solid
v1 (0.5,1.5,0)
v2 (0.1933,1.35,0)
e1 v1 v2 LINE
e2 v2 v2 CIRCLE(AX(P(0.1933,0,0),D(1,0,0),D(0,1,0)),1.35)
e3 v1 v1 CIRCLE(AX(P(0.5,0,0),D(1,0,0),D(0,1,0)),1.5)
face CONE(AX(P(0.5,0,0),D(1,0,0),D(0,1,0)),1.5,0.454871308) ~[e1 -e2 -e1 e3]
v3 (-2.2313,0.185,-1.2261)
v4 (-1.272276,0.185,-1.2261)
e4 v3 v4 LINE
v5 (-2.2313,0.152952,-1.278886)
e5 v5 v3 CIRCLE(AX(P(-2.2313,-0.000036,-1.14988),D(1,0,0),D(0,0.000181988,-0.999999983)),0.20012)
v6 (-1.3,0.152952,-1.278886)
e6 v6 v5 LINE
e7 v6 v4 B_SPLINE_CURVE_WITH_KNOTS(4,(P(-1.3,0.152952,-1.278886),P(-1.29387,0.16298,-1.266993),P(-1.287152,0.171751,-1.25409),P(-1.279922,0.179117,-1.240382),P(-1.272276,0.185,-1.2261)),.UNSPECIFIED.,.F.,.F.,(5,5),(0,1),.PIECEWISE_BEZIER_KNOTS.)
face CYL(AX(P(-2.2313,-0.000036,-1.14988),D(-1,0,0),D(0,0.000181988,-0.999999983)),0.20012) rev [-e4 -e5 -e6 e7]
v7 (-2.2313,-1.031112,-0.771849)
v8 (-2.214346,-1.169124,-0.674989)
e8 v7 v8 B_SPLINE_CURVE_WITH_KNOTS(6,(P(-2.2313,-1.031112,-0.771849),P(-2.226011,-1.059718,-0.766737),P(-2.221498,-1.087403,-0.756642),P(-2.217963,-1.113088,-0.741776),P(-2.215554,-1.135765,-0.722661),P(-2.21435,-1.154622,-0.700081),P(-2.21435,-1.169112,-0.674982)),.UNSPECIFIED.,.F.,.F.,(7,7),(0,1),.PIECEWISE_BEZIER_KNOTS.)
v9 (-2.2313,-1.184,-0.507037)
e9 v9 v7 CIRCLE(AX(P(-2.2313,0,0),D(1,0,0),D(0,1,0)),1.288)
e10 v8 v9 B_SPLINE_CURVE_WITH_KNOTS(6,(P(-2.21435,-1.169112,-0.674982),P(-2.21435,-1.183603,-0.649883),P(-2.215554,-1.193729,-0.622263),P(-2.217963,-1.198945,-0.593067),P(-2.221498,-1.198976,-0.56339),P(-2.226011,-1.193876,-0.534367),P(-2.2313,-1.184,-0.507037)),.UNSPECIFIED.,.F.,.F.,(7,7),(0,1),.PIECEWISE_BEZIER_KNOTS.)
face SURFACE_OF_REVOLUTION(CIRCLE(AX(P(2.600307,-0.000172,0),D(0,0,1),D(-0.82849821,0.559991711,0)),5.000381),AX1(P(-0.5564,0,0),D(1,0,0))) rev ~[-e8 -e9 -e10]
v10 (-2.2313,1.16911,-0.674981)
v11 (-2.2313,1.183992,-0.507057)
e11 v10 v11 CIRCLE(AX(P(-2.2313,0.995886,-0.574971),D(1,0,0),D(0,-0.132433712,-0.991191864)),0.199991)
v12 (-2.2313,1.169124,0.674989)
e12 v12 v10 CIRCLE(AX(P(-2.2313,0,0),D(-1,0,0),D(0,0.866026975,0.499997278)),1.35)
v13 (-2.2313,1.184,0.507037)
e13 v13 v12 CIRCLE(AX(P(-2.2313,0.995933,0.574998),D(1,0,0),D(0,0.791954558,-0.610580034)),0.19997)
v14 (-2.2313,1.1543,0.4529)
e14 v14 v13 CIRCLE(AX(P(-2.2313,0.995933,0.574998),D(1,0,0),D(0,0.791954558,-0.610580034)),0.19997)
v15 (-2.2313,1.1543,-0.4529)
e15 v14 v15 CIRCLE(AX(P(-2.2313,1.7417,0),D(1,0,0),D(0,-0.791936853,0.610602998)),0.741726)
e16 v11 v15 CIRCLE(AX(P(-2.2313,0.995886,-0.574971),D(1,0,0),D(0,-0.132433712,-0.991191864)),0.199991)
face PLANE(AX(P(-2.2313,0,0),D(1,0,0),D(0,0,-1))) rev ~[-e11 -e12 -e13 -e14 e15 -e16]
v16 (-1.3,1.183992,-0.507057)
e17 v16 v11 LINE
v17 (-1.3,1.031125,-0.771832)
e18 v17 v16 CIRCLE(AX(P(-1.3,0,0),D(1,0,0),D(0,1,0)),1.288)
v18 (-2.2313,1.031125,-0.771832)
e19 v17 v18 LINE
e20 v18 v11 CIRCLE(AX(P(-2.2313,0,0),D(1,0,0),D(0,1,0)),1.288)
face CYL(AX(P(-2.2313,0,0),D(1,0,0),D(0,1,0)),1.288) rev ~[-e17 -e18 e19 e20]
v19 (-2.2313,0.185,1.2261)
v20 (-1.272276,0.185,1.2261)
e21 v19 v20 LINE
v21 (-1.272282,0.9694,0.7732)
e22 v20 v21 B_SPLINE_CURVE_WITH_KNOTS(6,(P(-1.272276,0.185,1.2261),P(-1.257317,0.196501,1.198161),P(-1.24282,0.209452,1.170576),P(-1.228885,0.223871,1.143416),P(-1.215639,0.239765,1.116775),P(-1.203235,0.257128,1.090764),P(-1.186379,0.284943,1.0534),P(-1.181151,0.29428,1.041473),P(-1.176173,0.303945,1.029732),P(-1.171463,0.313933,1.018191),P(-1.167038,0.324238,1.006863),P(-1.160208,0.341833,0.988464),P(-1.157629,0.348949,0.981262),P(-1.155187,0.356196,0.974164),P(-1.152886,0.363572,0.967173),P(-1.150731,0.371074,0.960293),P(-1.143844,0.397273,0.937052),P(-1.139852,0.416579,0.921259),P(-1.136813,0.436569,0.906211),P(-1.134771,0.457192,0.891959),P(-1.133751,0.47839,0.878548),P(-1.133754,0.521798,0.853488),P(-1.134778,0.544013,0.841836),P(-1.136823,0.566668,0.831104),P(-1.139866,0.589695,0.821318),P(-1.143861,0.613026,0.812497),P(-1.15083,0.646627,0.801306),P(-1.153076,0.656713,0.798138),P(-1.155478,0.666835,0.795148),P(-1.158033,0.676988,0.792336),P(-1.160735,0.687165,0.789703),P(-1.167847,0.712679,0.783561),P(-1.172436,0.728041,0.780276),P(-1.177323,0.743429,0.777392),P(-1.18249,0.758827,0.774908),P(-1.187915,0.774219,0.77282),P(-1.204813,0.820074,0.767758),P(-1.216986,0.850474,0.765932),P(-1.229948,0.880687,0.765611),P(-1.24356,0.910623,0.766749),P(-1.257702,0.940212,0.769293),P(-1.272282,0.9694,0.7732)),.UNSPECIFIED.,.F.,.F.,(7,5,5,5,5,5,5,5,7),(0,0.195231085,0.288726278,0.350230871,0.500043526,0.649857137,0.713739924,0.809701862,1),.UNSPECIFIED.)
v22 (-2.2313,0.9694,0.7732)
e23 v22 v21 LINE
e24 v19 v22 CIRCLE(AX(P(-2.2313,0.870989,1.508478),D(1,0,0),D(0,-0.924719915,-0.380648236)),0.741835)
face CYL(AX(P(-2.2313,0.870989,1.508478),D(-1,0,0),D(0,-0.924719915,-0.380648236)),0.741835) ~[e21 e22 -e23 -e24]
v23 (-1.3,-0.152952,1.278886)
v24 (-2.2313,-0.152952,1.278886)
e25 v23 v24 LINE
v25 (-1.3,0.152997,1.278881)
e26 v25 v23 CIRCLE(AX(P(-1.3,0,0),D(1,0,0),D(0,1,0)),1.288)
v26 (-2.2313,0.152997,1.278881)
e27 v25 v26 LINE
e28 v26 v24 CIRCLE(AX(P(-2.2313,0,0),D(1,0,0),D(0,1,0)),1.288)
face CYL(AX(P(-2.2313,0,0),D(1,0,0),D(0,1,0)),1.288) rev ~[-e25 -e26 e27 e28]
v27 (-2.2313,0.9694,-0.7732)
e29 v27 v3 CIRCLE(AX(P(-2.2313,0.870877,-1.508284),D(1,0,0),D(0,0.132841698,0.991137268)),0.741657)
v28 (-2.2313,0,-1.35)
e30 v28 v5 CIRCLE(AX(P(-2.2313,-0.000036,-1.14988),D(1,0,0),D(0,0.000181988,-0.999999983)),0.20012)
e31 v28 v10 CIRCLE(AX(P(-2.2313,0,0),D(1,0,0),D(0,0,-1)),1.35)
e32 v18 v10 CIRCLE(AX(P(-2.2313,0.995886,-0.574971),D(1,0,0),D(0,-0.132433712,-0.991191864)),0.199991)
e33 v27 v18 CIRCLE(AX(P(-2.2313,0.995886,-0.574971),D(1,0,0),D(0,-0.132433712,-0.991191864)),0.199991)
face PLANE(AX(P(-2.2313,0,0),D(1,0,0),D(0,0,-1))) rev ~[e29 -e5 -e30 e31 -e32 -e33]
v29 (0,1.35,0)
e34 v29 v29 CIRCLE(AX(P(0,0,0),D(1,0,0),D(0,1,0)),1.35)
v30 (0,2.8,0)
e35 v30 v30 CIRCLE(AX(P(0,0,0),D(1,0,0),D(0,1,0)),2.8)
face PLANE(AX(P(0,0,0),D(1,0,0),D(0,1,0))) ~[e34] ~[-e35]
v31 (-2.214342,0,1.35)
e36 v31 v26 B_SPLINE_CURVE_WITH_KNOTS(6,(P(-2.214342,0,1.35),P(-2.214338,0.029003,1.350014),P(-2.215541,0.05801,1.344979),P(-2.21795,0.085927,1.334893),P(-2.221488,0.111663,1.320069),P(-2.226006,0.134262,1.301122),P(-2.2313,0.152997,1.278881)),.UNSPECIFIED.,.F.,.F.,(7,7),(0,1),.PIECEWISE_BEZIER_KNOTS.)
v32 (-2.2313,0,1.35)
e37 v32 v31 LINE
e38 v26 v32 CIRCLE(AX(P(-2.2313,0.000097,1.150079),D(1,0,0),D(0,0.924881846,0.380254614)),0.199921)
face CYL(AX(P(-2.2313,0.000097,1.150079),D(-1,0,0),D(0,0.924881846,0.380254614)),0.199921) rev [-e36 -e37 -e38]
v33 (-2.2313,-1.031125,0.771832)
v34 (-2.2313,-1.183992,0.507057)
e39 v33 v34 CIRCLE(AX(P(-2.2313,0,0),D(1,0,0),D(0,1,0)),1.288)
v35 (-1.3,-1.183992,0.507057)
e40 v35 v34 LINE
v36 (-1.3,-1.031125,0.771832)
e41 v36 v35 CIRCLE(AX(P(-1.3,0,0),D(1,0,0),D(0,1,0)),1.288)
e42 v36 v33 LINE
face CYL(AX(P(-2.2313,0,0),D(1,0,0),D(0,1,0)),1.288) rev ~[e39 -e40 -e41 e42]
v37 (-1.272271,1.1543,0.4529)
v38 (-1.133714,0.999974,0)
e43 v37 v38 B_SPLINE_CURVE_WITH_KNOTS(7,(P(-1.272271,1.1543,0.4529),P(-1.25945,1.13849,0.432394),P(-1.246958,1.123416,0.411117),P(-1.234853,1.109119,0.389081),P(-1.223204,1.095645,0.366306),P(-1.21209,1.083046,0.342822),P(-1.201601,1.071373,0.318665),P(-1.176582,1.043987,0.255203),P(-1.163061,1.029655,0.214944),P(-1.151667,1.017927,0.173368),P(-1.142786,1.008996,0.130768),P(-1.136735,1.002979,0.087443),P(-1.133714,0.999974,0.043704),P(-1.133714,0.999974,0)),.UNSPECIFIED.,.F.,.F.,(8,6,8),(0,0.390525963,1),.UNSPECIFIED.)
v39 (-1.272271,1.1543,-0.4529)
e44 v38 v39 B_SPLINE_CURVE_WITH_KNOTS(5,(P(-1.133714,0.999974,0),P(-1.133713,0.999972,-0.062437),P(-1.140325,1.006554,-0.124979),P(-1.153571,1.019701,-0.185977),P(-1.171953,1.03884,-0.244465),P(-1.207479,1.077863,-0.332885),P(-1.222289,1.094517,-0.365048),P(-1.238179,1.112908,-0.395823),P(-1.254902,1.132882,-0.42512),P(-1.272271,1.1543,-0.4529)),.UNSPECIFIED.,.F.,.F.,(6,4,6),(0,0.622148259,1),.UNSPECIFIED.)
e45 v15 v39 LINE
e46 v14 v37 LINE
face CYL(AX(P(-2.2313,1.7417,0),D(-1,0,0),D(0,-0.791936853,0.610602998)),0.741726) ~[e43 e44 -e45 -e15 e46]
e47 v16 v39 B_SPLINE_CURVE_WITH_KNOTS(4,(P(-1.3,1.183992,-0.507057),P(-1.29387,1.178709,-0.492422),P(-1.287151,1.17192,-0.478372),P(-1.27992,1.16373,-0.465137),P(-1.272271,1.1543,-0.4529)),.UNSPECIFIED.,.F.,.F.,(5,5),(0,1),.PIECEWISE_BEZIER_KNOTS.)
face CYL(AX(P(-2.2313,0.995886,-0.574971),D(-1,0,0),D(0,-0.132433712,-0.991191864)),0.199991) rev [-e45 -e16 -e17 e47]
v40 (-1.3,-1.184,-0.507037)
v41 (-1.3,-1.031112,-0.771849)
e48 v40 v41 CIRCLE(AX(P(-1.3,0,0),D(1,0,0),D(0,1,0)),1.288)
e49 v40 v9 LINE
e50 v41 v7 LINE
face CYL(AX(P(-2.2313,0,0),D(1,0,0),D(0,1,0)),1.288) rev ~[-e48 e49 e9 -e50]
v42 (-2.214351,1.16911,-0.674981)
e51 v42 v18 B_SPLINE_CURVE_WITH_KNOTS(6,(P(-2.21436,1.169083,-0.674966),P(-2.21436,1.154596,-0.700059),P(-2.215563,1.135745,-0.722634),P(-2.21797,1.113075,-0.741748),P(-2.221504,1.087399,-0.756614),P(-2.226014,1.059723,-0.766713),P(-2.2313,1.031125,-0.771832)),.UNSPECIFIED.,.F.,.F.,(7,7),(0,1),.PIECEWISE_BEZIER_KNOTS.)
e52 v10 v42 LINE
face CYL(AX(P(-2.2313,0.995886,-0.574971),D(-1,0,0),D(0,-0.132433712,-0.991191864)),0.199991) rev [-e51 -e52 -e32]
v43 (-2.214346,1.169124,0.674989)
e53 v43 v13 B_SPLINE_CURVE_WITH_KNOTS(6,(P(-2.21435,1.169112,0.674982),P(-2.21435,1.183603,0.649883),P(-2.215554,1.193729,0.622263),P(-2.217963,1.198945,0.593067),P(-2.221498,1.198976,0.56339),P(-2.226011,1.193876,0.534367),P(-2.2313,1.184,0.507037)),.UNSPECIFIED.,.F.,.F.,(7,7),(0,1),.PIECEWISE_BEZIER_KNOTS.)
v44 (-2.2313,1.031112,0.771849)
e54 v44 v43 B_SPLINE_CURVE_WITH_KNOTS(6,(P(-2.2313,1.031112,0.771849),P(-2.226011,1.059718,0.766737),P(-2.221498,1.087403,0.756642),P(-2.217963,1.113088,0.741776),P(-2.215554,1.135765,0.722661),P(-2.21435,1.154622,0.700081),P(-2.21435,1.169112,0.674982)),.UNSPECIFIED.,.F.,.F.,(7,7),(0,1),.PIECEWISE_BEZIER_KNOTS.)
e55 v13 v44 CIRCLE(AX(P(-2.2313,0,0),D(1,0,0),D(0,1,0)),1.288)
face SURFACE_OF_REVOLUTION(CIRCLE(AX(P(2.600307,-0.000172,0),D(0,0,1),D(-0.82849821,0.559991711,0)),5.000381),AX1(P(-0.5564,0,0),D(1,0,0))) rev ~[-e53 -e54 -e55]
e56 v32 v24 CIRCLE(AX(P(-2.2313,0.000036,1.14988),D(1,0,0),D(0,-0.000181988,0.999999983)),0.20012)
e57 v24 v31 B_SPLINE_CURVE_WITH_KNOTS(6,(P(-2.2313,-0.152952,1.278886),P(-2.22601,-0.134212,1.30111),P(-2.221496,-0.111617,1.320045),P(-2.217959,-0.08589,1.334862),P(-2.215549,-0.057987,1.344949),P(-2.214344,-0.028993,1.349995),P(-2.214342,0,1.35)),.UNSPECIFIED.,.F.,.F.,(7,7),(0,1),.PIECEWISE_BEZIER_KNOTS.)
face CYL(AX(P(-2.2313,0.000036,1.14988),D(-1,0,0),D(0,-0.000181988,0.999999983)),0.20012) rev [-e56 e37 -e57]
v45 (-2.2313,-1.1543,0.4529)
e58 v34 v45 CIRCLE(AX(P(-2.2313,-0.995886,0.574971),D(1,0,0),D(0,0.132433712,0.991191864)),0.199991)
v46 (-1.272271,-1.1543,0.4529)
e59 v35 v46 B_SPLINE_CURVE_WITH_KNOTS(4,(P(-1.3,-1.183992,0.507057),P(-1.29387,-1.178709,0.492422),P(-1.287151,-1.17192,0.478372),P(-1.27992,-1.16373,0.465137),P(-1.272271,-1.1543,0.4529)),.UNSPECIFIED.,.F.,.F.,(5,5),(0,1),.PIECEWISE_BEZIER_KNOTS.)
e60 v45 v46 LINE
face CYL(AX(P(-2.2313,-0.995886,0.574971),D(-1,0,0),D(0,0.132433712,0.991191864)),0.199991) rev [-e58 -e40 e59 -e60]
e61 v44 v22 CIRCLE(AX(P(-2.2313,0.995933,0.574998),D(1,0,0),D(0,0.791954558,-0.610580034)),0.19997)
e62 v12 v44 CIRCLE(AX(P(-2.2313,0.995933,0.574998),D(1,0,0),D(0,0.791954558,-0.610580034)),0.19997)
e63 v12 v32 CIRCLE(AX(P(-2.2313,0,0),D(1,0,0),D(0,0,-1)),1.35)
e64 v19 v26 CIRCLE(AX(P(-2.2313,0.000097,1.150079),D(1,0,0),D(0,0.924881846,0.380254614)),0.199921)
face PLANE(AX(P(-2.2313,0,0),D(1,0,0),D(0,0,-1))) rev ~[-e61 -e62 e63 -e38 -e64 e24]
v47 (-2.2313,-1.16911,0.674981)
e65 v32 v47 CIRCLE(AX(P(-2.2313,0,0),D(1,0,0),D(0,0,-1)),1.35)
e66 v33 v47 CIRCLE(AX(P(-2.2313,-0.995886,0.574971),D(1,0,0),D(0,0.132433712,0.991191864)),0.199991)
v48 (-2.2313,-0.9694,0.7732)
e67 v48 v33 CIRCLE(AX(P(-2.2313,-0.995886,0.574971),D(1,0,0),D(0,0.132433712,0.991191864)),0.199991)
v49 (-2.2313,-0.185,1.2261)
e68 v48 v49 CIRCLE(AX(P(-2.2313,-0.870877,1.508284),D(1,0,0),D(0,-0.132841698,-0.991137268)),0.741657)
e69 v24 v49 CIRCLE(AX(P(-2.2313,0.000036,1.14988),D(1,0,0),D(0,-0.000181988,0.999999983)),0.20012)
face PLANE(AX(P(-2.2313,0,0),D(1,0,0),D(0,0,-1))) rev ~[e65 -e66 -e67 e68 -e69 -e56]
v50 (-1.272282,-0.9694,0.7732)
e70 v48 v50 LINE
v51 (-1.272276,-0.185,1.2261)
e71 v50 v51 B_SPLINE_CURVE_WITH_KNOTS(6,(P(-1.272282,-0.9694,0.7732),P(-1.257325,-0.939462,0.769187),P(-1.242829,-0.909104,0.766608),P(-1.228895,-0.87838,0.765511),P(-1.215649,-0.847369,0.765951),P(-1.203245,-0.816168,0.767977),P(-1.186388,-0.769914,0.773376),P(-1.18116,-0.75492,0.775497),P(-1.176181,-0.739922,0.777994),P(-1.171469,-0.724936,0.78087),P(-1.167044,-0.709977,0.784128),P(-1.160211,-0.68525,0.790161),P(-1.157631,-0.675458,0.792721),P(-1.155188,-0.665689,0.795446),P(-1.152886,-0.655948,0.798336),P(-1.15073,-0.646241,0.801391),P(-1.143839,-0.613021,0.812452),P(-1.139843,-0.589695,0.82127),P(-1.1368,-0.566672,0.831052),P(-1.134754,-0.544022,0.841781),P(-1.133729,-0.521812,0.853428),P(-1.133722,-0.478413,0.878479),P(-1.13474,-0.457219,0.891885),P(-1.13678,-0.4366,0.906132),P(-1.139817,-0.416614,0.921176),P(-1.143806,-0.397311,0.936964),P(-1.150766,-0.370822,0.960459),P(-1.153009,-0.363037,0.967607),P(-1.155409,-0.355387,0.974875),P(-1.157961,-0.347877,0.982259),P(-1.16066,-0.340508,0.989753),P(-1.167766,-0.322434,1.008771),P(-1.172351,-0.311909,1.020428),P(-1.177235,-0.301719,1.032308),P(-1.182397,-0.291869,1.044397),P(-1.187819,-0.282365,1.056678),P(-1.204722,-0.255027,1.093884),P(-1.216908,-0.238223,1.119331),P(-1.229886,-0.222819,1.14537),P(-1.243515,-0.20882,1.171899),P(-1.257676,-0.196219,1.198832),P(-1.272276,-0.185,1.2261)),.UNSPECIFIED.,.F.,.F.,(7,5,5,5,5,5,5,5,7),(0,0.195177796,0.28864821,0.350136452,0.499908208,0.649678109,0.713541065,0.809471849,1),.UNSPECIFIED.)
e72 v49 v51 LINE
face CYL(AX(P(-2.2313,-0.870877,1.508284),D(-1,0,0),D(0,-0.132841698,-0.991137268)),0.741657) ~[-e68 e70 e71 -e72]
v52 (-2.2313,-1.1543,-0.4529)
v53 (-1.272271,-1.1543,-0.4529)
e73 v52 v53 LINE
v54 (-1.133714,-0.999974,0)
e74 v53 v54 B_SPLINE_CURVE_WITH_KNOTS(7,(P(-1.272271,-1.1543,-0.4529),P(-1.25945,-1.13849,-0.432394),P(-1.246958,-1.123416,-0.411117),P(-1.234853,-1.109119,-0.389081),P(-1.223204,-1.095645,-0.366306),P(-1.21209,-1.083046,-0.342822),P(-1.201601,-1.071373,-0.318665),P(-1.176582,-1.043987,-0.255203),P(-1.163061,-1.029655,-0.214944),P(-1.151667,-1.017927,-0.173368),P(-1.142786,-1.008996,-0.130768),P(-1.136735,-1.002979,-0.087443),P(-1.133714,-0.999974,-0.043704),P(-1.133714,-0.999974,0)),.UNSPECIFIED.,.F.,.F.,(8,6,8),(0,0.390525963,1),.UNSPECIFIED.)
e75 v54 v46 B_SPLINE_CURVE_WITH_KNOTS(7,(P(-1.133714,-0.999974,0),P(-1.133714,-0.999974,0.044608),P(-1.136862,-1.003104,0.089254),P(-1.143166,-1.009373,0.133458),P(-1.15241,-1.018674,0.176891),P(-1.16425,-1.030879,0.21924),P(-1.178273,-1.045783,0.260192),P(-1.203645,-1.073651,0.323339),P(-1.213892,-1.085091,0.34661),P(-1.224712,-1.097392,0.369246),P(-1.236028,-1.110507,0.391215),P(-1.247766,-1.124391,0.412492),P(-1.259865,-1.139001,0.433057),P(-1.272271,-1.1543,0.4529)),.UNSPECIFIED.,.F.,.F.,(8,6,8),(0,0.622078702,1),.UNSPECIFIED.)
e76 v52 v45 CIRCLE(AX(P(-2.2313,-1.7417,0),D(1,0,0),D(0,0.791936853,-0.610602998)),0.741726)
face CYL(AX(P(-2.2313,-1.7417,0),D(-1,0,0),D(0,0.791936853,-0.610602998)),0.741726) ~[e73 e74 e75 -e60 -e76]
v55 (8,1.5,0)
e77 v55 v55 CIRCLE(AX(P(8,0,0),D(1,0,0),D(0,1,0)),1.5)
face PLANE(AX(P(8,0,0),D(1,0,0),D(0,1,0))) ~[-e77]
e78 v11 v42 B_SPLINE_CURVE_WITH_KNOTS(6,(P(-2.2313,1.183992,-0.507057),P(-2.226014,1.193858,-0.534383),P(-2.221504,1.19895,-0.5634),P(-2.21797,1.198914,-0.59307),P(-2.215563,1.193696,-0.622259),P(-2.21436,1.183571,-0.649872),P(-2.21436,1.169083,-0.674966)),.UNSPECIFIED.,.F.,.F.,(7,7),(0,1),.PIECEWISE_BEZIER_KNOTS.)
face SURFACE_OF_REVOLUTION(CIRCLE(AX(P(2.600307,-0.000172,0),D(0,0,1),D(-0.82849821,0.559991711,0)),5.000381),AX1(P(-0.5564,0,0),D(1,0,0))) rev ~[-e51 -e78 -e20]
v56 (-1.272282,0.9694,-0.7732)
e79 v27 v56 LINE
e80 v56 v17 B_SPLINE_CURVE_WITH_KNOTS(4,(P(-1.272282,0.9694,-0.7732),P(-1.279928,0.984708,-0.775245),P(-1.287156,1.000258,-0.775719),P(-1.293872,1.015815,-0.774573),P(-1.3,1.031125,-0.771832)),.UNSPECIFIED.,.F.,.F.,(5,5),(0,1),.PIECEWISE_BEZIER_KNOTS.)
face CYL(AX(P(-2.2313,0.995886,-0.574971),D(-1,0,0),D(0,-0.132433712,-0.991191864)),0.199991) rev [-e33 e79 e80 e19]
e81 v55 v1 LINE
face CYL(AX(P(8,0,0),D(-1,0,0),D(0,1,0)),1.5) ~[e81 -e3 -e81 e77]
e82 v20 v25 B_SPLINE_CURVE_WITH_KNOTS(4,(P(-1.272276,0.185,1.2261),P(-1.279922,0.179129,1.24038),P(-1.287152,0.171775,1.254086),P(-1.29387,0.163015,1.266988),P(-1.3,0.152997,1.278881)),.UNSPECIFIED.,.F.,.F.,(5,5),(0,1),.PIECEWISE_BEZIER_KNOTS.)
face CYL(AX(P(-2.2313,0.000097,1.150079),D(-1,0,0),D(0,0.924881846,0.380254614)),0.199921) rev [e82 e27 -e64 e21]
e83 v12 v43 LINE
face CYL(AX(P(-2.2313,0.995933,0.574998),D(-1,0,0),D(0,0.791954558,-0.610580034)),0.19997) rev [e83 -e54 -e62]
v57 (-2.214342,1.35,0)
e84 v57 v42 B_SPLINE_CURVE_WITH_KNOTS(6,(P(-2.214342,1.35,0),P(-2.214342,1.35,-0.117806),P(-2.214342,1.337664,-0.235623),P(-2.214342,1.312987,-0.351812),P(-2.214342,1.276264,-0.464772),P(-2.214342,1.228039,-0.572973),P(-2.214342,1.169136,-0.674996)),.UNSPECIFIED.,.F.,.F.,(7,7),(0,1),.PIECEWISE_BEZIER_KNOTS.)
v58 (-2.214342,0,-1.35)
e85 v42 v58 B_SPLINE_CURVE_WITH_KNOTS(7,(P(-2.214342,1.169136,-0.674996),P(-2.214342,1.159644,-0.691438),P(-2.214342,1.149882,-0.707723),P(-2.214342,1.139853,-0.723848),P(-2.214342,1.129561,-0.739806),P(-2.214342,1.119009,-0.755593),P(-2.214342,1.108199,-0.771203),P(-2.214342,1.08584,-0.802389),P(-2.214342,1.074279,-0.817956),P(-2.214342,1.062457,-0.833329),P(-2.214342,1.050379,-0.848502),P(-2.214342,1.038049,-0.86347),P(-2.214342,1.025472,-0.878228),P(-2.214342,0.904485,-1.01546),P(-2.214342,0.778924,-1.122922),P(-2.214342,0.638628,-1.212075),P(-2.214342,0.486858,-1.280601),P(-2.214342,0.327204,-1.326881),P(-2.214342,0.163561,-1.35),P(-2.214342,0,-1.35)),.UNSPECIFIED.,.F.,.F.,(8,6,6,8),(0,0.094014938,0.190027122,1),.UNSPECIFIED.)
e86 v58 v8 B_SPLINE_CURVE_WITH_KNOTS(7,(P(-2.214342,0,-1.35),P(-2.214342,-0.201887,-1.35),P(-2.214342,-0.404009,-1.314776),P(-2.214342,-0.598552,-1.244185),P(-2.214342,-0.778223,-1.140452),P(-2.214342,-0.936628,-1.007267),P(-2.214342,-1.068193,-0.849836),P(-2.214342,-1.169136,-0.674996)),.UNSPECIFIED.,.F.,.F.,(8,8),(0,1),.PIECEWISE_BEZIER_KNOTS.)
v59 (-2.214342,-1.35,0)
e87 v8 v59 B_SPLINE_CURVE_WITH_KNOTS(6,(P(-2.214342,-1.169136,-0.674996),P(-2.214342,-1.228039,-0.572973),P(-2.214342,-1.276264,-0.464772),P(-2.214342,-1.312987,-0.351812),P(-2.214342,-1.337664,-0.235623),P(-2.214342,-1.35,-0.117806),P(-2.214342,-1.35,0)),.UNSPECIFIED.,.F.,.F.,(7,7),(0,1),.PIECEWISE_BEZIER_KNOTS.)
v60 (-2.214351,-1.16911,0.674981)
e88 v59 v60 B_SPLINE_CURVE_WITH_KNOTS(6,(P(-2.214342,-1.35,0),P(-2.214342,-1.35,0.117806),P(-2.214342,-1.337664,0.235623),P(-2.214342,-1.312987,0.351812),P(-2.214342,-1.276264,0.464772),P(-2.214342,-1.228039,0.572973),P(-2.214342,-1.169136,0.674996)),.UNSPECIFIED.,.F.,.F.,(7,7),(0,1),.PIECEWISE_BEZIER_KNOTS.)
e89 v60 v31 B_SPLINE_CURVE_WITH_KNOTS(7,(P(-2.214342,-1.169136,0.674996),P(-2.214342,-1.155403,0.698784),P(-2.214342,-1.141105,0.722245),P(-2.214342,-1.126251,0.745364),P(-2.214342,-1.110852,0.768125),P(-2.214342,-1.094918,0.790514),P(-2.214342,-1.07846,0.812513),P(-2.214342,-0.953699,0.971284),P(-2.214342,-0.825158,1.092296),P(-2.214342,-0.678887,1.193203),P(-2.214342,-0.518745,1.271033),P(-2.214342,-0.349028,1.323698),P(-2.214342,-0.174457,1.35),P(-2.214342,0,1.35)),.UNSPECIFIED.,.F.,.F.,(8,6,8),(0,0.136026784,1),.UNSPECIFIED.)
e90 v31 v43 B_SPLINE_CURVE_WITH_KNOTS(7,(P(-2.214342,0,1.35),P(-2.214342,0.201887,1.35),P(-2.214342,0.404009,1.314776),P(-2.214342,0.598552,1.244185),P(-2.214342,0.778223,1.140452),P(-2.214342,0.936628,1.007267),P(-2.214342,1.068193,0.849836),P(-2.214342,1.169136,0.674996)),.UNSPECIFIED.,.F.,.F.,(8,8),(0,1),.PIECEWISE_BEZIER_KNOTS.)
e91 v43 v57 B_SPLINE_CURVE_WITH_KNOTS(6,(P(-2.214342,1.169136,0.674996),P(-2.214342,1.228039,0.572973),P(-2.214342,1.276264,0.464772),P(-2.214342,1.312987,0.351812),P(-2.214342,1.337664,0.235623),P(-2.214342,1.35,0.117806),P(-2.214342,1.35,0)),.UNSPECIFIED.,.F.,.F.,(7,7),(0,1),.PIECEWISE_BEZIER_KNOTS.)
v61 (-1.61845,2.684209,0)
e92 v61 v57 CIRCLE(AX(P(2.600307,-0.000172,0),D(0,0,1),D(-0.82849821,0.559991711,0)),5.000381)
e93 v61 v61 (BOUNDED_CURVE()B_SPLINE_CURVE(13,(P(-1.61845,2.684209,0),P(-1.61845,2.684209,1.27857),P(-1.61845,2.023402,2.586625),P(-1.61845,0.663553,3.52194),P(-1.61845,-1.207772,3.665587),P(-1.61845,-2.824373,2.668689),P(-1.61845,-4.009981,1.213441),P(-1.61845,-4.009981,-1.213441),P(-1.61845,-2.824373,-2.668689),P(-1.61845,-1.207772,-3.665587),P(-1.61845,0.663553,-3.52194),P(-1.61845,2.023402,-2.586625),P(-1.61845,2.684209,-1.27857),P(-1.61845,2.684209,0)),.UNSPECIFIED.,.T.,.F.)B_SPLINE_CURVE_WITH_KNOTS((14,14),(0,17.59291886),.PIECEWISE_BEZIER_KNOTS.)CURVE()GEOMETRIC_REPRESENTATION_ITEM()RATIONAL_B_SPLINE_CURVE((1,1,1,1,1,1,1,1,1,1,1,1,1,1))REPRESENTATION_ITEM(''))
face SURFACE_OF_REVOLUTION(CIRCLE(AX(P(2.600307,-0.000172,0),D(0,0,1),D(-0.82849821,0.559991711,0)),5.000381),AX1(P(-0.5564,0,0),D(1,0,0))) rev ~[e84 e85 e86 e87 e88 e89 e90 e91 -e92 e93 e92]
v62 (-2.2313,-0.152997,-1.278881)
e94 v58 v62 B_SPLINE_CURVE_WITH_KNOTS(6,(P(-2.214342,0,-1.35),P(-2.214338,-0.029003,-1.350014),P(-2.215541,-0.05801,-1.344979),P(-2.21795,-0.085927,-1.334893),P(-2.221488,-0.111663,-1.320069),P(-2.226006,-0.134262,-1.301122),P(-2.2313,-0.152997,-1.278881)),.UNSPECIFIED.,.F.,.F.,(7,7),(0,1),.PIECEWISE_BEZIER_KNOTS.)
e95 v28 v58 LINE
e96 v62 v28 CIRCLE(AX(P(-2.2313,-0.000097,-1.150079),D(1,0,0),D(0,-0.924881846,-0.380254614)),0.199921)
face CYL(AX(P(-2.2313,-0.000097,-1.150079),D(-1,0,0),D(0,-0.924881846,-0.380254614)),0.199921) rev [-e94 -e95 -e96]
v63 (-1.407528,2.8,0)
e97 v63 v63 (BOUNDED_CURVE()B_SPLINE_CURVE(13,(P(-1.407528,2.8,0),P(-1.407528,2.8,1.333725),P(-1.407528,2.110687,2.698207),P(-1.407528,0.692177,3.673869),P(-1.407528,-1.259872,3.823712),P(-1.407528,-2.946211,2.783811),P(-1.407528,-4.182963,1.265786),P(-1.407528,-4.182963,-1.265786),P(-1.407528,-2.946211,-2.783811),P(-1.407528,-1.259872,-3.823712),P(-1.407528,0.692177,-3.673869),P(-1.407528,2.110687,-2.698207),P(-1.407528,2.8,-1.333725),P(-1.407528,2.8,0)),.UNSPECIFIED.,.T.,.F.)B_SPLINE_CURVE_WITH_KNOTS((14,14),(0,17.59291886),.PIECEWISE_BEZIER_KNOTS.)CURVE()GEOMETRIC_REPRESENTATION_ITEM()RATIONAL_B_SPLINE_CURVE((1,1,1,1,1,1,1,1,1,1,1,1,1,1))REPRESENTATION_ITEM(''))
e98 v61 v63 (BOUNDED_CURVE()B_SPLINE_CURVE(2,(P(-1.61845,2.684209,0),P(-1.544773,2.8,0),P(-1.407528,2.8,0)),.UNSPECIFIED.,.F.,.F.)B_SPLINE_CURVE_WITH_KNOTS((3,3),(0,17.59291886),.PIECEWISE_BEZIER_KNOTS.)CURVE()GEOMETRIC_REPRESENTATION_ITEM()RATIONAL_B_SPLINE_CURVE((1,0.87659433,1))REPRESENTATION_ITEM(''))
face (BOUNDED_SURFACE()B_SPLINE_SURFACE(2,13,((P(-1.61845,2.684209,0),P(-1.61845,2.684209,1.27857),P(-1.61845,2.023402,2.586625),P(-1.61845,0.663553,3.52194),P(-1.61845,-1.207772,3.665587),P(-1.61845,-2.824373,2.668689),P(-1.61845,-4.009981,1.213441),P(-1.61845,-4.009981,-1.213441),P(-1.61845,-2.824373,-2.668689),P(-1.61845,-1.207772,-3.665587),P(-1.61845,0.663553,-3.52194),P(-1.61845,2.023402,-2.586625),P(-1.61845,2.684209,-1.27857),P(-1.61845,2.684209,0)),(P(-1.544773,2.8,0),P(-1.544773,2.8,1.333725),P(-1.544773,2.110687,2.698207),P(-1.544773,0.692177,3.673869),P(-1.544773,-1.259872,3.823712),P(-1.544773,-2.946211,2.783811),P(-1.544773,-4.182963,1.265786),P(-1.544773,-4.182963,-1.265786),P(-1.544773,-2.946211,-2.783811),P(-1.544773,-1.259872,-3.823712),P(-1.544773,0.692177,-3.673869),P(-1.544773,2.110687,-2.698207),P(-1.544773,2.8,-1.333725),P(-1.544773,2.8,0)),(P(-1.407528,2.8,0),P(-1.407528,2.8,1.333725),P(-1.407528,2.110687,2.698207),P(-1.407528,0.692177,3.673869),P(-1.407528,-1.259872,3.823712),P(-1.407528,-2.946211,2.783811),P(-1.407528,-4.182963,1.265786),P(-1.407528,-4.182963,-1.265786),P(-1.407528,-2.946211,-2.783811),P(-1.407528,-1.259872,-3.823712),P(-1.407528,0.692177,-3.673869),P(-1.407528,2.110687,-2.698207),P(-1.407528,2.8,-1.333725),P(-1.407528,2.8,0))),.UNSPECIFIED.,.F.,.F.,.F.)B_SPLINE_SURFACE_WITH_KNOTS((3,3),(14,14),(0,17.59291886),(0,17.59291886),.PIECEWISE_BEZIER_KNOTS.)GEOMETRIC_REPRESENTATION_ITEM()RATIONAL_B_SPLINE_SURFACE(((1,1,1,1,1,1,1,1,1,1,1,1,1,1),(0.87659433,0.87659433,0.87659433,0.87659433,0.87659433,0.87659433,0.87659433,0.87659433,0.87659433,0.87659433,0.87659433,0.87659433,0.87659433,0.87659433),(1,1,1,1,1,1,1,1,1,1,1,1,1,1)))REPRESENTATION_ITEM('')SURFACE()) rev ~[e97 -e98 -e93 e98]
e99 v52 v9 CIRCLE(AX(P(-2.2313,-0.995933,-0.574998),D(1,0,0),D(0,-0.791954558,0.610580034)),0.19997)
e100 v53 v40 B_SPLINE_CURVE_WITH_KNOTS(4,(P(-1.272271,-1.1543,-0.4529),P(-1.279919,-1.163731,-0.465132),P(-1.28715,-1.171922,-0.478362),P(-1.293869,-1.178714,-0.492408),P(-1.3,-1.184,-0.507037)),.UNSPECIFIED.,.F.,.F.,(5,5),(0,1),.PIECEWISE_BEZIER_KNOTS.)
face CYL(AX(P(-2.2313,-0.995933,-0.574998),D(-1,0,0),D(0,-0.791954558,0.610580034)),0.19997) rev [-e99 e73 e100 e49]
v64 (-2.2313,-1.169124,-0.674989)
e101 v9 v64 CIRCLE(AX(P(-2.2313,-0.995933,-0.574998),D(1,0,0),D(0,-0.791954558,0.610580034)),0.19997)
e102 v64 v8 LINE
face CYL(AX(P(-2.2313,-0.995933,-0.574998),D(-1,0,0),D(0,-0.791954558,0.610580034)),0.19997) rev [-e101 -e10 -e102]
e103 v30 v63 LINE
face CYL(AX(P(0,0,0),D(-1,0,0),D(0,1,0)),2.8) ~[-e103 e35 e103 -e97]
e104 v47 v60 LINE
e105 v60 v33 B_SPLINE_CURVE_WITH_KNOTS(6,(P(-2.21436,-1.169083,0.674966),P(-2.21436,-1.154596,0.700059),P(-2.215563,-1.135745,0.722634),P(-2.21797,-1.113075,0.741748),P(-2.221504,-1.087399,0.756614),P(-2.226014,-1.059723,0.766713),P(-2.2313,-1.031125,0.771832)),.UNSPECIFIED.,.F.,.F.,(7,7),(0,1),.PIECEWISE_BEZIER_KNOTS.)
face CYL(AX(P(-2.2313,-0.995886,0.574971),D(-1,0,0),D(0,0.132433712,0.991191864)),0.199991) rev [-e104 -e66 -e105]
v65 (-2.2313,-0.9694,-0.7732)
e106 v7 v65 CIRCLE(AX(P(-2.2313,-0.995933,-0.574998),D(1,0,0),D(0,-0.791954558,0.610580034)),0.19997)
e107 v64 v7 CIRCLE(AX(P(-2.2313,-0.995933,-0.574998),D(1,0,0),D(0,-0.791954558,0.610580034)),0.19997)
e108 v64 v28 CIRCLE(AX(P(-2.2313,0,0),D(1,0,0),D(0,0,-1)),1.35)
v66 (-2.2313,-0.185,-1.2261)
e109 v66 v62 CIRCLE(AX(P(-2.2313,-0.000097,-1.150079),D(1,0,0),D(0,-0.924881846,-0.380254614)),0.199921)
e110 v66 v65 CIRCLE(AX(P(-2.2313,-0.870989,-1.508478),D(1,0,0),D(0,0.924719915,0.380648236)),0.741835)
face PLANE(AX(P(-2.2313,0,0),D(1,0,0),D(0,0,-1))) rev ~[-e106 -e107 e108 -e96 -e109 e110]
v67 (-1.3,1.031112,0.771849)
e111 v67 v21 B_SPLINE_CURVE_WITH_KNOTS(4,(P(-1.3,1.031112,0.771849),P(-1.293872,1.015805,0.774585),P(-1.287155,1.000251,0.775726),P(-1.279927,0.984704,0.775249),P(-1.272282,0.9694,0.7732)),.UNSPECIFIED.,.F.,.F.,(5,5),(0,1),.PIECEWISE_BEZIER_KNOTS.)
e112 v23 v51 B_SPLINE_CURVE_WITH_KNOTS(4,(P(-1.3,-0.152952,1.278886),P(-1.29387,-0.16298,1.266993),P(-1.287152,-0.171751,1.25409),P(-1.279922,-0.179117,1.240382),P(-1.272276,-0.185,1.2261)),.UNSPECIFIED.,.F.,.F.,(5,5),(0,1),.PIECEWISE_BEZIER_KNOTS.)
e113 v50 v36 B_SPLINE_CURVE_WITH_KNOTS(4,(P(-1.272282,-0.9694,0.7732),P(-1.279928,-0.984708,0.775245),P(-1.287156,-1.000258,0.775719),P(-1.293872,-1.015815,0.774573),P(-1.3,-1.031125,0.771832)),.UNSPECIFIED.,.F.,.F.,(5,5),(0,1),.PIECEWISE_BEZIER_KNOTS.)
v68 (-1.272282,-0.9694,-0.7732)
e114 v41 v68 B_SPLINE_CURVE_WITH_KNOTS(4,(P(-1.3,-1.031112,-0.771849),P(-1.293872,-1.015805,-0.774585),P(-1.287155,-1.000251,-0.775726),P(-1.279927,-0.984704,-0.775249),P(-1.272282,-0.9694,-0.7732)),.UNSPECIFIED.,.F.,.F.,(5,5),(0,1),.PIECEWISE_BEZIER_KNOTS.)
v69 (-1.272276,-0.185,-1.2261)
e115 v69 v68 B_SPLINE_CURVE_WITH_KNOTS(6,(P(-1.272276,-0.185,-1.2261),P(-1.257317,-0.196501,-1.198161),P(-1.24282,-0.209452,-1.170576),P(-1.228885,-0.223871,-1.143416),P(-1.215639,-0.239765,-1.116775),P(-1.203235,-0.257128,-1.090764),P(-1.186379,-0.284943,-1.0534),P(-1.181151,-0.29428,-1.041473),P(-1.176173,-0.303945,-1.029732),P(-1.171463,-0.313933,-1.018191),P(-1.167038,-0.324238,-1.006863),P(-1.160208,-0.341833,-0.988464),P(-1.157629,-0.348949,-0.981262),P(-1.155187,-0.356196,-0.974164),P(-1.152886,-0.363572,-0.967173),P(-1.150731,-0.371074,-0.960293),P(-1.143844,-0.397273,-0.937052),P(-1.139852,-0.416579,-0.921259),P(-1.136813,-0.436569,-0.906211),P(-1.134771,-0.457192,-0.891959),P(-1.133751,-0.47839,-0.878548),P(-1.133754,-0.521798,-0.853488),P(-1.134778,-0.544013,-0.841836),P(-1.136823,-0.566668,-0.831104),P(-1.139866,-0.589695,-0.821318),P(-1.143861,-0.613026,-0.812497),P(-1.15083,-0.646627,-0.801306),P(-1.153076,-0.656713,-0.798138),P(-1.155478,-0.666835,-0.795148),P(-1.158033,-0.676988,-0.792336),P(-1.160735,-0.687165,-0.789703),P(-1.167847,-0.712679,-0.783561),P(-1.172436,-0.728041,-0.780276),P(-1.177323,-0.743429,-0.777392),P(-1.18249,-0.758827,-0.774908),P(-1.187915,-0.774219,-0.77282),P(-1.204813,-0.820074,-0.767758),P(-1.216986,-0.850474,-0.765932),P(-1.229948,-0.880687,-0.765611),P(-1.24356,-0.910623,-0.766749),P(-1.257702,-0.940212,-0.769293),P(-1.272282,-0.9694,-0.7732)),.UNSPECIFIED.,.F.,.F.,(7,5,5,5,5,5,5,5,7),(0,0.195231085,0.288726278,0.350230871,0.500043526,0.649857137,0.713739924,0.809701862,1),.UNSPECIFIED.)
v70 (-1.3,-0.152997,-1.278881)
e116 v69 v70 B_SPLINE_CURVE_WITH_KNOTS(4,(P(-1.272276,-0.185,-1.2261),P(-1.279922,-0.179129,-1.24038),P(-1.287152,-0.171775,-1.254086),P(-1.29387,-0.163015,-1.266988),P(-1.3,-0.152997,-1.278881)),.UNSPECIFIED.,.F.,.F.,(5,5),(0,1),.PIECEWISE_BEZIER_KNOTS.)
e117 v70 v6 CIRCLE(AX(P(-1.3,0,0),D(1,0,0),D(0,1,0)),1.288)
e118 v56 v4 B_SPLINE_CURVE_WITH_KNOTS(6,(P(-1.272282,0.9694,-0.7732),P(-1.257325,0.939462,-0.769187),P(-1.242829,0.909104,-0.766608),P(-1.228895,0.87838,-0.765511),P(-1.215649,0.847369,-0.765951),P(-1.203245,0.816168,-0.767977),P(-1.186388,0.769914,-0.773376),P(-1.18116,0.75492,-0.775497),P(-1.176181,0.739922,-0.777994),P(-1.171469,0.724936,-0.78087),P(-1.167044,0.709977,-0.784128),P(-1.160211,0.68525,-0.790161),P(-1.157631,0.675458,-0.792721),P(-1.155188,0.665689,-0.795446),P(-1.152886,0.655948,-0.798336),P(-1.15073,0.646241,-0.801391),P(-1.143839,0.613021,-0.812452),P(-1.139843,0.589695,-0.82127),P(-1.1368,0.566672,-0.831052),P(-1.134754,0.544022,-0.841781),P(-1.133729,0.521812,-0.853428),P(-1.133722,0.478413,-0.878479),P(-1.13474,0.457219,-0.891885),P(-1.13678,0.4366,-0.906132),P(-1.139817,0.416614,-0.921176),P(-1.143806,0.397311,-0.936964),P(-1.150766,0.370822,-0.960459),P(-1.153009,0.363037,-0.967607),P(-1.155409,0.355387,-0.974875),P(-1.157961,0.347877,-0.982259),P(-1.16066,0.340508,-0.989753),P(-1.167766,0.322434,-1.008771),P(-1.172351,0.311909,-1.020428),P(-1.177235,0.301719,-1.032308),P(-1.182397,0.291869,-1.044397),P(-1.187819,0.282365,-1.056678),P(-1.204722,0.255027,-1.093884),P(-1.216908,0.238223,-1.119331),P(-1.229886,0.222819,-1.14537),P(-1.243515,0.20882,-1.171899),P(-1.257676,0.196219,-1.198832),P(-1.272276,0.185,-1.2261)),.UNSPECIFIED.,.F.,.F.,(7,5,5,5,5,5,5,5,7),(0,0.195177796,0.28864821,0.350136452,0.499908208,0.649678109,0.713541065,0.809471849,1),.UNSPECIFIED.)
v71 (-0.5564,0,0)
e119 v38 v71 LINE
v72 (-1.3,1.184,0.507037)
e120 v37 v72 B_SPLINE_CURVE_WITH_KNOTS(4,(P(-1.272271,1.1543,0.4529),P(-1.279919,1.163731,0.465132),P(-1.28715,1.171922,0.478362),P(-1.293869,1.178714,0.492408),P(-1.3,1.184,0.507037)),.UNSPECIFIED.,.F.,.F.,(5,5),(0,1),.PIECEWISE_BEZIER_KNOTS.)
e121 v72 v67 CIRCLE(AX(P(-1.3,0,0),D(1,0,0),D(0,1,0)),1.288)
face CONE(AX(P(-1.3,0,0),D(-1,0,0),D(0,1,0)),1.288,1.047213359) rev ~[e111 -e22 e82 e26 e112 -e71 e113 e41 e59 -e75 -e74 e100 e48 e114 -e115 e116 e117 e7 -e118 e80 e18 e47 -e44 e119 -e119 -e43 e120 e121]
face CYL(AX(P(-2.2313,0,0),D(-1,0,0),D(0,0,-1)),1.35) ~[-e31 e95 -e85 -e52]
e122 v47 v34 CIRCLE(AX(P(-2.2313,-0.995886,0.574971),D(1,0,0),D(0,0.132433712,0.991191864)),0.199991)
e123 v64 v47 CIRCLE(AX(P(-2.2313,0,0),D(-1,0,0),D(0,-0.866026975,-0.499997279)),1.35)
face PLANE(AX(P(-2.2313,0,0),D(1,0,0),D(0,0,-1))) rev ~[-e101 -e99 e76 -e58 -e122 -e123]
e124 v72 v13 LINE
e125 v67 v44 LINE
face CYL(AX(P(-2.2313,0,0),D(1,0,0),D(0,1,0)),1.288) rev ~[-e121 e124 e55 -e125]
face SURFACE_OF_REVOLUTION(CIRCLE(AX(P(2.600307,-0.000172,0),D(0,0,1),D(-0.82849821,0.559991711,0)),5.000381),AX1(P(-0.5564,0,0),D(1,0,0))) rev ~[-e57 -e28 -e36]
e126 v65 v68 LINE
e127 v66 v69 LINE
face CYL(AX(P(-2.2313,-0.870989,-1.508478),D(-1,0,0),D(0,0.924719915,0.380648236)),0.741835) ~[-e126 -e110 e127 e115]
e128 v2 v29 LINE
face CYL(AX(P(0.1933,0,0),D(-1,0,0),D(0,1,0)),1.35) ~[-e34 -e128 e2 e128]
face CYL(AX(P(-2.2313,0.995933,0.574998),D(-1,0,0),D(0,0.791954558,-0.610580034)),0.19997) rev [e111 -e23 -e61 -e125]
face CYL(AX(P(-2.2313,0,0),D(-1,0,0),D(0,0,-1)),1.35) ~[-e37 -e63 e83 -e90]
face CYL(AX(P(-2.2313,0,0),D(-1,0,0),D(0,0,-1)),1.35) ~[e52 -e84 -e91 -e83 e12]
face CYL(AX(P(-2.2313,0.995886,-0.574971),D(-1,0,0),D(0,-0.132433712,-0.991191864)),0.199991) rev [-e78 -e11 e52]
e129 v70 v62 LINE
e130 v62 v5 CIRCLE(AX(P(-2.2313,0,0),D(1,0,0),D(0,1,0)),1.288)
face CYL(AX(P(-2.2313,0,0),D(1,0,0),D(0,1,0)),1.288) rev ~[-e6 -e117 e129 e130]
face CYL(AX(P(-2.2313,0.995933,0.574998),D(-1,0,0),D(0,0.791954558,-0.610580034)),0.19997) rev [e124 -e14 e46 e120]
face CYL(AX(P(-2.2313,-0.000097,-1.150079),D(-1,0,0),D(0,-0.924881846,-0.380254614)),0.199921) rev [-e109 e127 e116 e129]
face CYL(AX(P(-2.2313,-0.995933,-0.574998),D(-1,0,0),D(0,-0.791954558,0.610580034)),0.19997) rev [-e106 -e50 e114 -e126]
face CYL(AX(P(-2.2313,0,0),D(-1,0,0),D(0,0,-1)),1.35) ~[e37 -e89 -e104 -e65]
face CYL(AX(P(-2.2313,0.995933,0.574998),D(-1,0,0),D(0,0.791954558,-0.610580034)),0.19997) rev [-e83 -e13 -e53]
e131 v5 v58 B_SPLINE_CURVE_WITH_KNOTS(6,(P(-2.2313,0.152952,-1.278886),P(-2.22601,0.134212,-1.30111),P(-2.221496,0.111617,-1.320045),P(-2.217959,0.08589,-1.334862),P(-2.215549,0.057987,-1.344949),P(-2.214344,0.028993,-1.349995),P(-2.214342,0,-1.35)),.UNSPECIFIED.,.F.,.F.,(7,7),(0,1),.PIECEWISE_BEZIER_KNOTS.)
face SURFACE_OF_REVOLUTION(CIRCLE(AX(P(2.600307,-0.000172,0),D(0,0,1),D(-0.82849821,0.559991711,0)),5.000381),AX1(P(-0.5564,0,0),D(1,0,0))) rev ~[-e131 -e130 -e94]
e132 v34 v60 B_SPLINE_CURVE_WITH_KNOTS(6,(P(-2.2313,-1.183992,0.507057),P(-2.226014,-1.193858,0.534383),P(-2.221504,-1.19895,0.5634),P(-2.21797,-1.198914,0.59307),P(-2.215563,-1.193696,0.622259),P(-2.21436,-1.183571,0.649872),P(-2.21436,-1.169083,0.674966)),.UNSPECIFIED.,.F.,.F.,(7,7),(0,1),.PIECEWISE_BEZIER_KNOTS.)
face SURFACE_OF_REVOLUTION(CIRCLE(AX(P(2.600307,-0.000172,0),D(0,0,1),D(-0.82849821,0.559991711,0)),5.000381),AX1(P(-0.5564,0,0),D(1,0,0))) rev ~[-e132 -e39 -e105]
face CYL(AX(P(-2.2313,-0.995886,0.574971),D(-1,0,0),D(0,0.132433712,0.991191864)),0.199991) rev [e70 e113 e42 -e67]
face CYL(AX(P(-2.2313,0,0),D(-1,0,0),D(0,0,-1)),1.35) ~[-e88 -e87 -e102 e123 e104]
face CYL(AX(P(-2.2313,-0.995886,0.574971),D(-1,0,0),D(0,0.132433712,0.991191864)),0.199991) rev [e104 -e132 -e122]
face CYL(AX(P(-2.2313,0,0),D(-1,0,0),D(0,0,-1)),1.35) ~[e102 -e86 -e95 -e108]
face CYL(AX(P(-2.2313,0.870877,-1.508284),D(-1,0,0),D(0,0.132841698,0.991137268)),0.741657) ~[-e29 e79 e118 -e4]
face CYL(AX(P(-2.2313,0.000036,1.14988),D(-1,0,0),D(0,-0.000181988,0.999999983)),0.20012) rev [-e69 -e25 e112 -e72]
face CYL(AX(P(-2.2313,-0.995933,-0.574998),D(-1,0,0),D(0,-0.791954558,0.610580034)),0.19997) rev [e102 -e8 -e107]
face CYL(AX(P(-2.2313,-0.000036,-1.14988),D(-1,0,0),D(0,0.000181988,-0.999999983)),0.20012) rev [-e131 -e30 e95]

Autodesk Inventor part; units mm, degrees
ref_plane "YZ Plane" through (0, 0, 0) normal (1, 0, 0) x (0, 1, 0)
sketch "Sketch1" plane through (0, 0, 0) normal (0, 0, 1) x (1, 0, 0)
  line L0 (-0.5564, 0) -> (8, 0)
  line L1 (8, 0) -> (8, 1.5)
  line L2 (8, 1.5) -> (0.5, 1.5)
  line L3 (0.5, 1.5) -> (0.1933, 1.35)
  line L4 (0.1933, 1.35) -> (0, 1.35)
  line L5 (0, 1.35) -> (0, 2.8)
  line L6 (0, 2.8) -> (-1.5425, 2.8)
  arc A0 (-1.5425, 2.8) -> (-2.2313, 1.288) centre (2.6, 0) ccw
  line L7 (-2.2313, 1.288) -> (-1.3, 1.288)
  line L8 (-1.3, 1.288) -> (-0.5564, 0)
  arc A1 (-2.2313, 1.288) -> (-2.4, 0) centre (2.6, 0) ccw construction
  line L9 (-2.4, 0) -> (-0.5564, 0) construction
  line L10 (-4.5304, 0) -> (10.0884, 0) projected
  line L11 (0, -0.5658) -> (0, 3.3946) projected
  line L12 (0.5, 1.5) -> (0, 1.5) construction
  dimension "d0" = 8
  dimension "d1" = 7.5
  dimension "d2" = 0.3067
  dimension "d3" = 2.4
  dimension "d4" = 1.1
  dimension "d5" = 60
  dimension "d6" = 3
  dimension "d7" = 5.6
  dimension "d8" = 0
  dimension "d9" = 2.576
  dimension "d10" = 2.7
  dimension "d11" = 5
  dimension "d21" = 0.1687
revolve "Body" add sketch "Sketch1" angle 360 about axis through (-0.5564, 0, 0) along (1, 0, 0)
ref_plane "IDS_WORKPLANE{1}" through (-2.2313, 0, 0) normal (1, 0, 0) x (0, 0, -1)
sketch "Sketch2" plane through (-2.2313, 0, 0) normal (1, 0, 0) x (0, 0, -1)
  line L0 (0, -4.1335) -> (0, 5.2012) projected
  line L1 (5.1441, 0) -> (-4.124, 0) projected
  circle A0 centre (0, 0) radius 1 construction
  line L2 (0, 0) -> (2.233, 3.8677) construction
  line L3 (0, 0) -> (3.8201, 2.2055) construction
  arc A1 (1.35, 0) -> (1.2261, 0.185) centre (1.15, 0) ccw
  arc A2 (0.7732, 0.9694) -> (0.4529, 1.1543) centre (0.575, 0.9959) ccw
  arc A3 (0.7732, 0.9694) -> (1.2261, 0.185) centre (1.5084, 0.8709) ccw
  arc A4 (-0.4529, 1.1543) -> (-0.7732, 0.9694) centre (-0.575, 0.9959) ccw
  arc A5 (-0.4529, 1.1543) -> (0.4529, 1.1543) centre (0, 1.7417) ccw
  arc A6 (-1.2261, 0.185) -> (-1.35, 0) centre (-1.15, 0) ccw
  arc A7 (-1.2261, 0.185) -> (-0.7732, 0.9694) centre (-1.5084, 0.8709) ccw
  arc A8 (1.2261, -0.185) -> (1.35, 0) centre (1.15, 0) ccw
  arc A9 (0.4529, -1.1543) -> (0.7732, -0.9694) centre (0.575, -0.9959) ccw
  arc A10 (1.2261, -0.185) -> (0.7732, -0.9694) centre (1.5084, -0.8709) ccw
  arc A11 (-0.7732, -0.9694) -> (-0.4529, -1.1543) centre (-0.575, -0.9959) ccw
  arc A12 (0.4529, -1.1543) -> (-0.4529, -1.1543) centre (0, -1.7417) ccw
  arc A13 (-0.7732, -0.9694) -> (-1.2261, -0.185) centre (-1.5084, -0.8709) ccw
  arc A14 (-1.35, 0) -> (-1.2261, -0.185) centre (-1.15, 0) ccw
  circle A15 centre (0, 0) radius 1.35
  circle A16 centre (0, 0) radius 1.35 projected
  dimension "d14" = 2
  dimension "d15" = 30
  dimension "d16" = 60
  dimension "d27" = 0.2
  dimension "d28" = 0.2
extrude "Slot" add sketch "Sketch2" along normal up to next contours A15 A11 A12 L0 | A15 A4 A7 A6 | A15 A9 A10 A8 | L0 A12 A9 A15 | A15 A14 A13 A11 | A1 A3 A2 A15 | A5 A4 A15 L0 | L0 A15 A2 A5
fillet "Fillet1" radius 0.25 1 edges at (-1.5425, -2.8, 0)
thread "Thread" size "M3x0.5" class "6g" standard "ISO Metric profile" length 7.5
ref_plane "Work Plane2" through (25, 0, 0) normal (0, 0.5, -0.866) x (1, 0, 0)
equation "\"d0\" = NLG"
equation "\"d1\" = GEL"
equation "\"d2\" = GAL"
equation "\"d3\" = KOH"
equation "\"d4\" = INTI"
equation "\"d6\" = GD"
equation "\"d7\" = KOD"
equation "\"d9\" = E0"
equation "\"d10\" = BDM"
equation "\"d11\" = KR"
equation "\"d14\" = SW"
equation "\"d27\" = RRK"
equation "\"d28\" = RRK"
equation "\"d18\" = RR"
equation "\"d20\" = GEL"
equation "\"GD\" = NND"
equation "\"NLG\" = 8"
equation "\"GEL\" = 7.5"
equation "\"KOD\" = 5.6"
equation "\"KOH\" = 2.4"
equation "\"INTI\" = 1.1"
equation "\"GAL\" = 0.61345 * PTC"
equation "\"KR\" = 5"
equation "\"BDM\" = 2.7"
equation "\"KEWI\" = 0"
equation "\"SW\" = 2"
equation "\"d13\" = -KOH + d21"
equation "\"RR\" = 0.25"
equation "\"RRK\" = 0.2"
equation "\"E0\" = 2.576"
equation "\"GUL\" = 0.61345 * PTC"
equation "\"SPD\" = NND - 1.2269 * GAL"
equation "\"PHH\" = 0"
equation "\"GD1\" = THREADDIA - 1.2269 * PTC"
equation "\"THREADDIA\" = 3"
equation "\"FAWI\" = 90deg"
equation "\"ANG\" = 120deg"
equation "\"PTC\" = 0.5"
equation "\"NND\" = 3"
equation "\"TOA\" = 30deg"
properties part number "NF E 25-109 - M3 x 8" material "Steel, Mild"
